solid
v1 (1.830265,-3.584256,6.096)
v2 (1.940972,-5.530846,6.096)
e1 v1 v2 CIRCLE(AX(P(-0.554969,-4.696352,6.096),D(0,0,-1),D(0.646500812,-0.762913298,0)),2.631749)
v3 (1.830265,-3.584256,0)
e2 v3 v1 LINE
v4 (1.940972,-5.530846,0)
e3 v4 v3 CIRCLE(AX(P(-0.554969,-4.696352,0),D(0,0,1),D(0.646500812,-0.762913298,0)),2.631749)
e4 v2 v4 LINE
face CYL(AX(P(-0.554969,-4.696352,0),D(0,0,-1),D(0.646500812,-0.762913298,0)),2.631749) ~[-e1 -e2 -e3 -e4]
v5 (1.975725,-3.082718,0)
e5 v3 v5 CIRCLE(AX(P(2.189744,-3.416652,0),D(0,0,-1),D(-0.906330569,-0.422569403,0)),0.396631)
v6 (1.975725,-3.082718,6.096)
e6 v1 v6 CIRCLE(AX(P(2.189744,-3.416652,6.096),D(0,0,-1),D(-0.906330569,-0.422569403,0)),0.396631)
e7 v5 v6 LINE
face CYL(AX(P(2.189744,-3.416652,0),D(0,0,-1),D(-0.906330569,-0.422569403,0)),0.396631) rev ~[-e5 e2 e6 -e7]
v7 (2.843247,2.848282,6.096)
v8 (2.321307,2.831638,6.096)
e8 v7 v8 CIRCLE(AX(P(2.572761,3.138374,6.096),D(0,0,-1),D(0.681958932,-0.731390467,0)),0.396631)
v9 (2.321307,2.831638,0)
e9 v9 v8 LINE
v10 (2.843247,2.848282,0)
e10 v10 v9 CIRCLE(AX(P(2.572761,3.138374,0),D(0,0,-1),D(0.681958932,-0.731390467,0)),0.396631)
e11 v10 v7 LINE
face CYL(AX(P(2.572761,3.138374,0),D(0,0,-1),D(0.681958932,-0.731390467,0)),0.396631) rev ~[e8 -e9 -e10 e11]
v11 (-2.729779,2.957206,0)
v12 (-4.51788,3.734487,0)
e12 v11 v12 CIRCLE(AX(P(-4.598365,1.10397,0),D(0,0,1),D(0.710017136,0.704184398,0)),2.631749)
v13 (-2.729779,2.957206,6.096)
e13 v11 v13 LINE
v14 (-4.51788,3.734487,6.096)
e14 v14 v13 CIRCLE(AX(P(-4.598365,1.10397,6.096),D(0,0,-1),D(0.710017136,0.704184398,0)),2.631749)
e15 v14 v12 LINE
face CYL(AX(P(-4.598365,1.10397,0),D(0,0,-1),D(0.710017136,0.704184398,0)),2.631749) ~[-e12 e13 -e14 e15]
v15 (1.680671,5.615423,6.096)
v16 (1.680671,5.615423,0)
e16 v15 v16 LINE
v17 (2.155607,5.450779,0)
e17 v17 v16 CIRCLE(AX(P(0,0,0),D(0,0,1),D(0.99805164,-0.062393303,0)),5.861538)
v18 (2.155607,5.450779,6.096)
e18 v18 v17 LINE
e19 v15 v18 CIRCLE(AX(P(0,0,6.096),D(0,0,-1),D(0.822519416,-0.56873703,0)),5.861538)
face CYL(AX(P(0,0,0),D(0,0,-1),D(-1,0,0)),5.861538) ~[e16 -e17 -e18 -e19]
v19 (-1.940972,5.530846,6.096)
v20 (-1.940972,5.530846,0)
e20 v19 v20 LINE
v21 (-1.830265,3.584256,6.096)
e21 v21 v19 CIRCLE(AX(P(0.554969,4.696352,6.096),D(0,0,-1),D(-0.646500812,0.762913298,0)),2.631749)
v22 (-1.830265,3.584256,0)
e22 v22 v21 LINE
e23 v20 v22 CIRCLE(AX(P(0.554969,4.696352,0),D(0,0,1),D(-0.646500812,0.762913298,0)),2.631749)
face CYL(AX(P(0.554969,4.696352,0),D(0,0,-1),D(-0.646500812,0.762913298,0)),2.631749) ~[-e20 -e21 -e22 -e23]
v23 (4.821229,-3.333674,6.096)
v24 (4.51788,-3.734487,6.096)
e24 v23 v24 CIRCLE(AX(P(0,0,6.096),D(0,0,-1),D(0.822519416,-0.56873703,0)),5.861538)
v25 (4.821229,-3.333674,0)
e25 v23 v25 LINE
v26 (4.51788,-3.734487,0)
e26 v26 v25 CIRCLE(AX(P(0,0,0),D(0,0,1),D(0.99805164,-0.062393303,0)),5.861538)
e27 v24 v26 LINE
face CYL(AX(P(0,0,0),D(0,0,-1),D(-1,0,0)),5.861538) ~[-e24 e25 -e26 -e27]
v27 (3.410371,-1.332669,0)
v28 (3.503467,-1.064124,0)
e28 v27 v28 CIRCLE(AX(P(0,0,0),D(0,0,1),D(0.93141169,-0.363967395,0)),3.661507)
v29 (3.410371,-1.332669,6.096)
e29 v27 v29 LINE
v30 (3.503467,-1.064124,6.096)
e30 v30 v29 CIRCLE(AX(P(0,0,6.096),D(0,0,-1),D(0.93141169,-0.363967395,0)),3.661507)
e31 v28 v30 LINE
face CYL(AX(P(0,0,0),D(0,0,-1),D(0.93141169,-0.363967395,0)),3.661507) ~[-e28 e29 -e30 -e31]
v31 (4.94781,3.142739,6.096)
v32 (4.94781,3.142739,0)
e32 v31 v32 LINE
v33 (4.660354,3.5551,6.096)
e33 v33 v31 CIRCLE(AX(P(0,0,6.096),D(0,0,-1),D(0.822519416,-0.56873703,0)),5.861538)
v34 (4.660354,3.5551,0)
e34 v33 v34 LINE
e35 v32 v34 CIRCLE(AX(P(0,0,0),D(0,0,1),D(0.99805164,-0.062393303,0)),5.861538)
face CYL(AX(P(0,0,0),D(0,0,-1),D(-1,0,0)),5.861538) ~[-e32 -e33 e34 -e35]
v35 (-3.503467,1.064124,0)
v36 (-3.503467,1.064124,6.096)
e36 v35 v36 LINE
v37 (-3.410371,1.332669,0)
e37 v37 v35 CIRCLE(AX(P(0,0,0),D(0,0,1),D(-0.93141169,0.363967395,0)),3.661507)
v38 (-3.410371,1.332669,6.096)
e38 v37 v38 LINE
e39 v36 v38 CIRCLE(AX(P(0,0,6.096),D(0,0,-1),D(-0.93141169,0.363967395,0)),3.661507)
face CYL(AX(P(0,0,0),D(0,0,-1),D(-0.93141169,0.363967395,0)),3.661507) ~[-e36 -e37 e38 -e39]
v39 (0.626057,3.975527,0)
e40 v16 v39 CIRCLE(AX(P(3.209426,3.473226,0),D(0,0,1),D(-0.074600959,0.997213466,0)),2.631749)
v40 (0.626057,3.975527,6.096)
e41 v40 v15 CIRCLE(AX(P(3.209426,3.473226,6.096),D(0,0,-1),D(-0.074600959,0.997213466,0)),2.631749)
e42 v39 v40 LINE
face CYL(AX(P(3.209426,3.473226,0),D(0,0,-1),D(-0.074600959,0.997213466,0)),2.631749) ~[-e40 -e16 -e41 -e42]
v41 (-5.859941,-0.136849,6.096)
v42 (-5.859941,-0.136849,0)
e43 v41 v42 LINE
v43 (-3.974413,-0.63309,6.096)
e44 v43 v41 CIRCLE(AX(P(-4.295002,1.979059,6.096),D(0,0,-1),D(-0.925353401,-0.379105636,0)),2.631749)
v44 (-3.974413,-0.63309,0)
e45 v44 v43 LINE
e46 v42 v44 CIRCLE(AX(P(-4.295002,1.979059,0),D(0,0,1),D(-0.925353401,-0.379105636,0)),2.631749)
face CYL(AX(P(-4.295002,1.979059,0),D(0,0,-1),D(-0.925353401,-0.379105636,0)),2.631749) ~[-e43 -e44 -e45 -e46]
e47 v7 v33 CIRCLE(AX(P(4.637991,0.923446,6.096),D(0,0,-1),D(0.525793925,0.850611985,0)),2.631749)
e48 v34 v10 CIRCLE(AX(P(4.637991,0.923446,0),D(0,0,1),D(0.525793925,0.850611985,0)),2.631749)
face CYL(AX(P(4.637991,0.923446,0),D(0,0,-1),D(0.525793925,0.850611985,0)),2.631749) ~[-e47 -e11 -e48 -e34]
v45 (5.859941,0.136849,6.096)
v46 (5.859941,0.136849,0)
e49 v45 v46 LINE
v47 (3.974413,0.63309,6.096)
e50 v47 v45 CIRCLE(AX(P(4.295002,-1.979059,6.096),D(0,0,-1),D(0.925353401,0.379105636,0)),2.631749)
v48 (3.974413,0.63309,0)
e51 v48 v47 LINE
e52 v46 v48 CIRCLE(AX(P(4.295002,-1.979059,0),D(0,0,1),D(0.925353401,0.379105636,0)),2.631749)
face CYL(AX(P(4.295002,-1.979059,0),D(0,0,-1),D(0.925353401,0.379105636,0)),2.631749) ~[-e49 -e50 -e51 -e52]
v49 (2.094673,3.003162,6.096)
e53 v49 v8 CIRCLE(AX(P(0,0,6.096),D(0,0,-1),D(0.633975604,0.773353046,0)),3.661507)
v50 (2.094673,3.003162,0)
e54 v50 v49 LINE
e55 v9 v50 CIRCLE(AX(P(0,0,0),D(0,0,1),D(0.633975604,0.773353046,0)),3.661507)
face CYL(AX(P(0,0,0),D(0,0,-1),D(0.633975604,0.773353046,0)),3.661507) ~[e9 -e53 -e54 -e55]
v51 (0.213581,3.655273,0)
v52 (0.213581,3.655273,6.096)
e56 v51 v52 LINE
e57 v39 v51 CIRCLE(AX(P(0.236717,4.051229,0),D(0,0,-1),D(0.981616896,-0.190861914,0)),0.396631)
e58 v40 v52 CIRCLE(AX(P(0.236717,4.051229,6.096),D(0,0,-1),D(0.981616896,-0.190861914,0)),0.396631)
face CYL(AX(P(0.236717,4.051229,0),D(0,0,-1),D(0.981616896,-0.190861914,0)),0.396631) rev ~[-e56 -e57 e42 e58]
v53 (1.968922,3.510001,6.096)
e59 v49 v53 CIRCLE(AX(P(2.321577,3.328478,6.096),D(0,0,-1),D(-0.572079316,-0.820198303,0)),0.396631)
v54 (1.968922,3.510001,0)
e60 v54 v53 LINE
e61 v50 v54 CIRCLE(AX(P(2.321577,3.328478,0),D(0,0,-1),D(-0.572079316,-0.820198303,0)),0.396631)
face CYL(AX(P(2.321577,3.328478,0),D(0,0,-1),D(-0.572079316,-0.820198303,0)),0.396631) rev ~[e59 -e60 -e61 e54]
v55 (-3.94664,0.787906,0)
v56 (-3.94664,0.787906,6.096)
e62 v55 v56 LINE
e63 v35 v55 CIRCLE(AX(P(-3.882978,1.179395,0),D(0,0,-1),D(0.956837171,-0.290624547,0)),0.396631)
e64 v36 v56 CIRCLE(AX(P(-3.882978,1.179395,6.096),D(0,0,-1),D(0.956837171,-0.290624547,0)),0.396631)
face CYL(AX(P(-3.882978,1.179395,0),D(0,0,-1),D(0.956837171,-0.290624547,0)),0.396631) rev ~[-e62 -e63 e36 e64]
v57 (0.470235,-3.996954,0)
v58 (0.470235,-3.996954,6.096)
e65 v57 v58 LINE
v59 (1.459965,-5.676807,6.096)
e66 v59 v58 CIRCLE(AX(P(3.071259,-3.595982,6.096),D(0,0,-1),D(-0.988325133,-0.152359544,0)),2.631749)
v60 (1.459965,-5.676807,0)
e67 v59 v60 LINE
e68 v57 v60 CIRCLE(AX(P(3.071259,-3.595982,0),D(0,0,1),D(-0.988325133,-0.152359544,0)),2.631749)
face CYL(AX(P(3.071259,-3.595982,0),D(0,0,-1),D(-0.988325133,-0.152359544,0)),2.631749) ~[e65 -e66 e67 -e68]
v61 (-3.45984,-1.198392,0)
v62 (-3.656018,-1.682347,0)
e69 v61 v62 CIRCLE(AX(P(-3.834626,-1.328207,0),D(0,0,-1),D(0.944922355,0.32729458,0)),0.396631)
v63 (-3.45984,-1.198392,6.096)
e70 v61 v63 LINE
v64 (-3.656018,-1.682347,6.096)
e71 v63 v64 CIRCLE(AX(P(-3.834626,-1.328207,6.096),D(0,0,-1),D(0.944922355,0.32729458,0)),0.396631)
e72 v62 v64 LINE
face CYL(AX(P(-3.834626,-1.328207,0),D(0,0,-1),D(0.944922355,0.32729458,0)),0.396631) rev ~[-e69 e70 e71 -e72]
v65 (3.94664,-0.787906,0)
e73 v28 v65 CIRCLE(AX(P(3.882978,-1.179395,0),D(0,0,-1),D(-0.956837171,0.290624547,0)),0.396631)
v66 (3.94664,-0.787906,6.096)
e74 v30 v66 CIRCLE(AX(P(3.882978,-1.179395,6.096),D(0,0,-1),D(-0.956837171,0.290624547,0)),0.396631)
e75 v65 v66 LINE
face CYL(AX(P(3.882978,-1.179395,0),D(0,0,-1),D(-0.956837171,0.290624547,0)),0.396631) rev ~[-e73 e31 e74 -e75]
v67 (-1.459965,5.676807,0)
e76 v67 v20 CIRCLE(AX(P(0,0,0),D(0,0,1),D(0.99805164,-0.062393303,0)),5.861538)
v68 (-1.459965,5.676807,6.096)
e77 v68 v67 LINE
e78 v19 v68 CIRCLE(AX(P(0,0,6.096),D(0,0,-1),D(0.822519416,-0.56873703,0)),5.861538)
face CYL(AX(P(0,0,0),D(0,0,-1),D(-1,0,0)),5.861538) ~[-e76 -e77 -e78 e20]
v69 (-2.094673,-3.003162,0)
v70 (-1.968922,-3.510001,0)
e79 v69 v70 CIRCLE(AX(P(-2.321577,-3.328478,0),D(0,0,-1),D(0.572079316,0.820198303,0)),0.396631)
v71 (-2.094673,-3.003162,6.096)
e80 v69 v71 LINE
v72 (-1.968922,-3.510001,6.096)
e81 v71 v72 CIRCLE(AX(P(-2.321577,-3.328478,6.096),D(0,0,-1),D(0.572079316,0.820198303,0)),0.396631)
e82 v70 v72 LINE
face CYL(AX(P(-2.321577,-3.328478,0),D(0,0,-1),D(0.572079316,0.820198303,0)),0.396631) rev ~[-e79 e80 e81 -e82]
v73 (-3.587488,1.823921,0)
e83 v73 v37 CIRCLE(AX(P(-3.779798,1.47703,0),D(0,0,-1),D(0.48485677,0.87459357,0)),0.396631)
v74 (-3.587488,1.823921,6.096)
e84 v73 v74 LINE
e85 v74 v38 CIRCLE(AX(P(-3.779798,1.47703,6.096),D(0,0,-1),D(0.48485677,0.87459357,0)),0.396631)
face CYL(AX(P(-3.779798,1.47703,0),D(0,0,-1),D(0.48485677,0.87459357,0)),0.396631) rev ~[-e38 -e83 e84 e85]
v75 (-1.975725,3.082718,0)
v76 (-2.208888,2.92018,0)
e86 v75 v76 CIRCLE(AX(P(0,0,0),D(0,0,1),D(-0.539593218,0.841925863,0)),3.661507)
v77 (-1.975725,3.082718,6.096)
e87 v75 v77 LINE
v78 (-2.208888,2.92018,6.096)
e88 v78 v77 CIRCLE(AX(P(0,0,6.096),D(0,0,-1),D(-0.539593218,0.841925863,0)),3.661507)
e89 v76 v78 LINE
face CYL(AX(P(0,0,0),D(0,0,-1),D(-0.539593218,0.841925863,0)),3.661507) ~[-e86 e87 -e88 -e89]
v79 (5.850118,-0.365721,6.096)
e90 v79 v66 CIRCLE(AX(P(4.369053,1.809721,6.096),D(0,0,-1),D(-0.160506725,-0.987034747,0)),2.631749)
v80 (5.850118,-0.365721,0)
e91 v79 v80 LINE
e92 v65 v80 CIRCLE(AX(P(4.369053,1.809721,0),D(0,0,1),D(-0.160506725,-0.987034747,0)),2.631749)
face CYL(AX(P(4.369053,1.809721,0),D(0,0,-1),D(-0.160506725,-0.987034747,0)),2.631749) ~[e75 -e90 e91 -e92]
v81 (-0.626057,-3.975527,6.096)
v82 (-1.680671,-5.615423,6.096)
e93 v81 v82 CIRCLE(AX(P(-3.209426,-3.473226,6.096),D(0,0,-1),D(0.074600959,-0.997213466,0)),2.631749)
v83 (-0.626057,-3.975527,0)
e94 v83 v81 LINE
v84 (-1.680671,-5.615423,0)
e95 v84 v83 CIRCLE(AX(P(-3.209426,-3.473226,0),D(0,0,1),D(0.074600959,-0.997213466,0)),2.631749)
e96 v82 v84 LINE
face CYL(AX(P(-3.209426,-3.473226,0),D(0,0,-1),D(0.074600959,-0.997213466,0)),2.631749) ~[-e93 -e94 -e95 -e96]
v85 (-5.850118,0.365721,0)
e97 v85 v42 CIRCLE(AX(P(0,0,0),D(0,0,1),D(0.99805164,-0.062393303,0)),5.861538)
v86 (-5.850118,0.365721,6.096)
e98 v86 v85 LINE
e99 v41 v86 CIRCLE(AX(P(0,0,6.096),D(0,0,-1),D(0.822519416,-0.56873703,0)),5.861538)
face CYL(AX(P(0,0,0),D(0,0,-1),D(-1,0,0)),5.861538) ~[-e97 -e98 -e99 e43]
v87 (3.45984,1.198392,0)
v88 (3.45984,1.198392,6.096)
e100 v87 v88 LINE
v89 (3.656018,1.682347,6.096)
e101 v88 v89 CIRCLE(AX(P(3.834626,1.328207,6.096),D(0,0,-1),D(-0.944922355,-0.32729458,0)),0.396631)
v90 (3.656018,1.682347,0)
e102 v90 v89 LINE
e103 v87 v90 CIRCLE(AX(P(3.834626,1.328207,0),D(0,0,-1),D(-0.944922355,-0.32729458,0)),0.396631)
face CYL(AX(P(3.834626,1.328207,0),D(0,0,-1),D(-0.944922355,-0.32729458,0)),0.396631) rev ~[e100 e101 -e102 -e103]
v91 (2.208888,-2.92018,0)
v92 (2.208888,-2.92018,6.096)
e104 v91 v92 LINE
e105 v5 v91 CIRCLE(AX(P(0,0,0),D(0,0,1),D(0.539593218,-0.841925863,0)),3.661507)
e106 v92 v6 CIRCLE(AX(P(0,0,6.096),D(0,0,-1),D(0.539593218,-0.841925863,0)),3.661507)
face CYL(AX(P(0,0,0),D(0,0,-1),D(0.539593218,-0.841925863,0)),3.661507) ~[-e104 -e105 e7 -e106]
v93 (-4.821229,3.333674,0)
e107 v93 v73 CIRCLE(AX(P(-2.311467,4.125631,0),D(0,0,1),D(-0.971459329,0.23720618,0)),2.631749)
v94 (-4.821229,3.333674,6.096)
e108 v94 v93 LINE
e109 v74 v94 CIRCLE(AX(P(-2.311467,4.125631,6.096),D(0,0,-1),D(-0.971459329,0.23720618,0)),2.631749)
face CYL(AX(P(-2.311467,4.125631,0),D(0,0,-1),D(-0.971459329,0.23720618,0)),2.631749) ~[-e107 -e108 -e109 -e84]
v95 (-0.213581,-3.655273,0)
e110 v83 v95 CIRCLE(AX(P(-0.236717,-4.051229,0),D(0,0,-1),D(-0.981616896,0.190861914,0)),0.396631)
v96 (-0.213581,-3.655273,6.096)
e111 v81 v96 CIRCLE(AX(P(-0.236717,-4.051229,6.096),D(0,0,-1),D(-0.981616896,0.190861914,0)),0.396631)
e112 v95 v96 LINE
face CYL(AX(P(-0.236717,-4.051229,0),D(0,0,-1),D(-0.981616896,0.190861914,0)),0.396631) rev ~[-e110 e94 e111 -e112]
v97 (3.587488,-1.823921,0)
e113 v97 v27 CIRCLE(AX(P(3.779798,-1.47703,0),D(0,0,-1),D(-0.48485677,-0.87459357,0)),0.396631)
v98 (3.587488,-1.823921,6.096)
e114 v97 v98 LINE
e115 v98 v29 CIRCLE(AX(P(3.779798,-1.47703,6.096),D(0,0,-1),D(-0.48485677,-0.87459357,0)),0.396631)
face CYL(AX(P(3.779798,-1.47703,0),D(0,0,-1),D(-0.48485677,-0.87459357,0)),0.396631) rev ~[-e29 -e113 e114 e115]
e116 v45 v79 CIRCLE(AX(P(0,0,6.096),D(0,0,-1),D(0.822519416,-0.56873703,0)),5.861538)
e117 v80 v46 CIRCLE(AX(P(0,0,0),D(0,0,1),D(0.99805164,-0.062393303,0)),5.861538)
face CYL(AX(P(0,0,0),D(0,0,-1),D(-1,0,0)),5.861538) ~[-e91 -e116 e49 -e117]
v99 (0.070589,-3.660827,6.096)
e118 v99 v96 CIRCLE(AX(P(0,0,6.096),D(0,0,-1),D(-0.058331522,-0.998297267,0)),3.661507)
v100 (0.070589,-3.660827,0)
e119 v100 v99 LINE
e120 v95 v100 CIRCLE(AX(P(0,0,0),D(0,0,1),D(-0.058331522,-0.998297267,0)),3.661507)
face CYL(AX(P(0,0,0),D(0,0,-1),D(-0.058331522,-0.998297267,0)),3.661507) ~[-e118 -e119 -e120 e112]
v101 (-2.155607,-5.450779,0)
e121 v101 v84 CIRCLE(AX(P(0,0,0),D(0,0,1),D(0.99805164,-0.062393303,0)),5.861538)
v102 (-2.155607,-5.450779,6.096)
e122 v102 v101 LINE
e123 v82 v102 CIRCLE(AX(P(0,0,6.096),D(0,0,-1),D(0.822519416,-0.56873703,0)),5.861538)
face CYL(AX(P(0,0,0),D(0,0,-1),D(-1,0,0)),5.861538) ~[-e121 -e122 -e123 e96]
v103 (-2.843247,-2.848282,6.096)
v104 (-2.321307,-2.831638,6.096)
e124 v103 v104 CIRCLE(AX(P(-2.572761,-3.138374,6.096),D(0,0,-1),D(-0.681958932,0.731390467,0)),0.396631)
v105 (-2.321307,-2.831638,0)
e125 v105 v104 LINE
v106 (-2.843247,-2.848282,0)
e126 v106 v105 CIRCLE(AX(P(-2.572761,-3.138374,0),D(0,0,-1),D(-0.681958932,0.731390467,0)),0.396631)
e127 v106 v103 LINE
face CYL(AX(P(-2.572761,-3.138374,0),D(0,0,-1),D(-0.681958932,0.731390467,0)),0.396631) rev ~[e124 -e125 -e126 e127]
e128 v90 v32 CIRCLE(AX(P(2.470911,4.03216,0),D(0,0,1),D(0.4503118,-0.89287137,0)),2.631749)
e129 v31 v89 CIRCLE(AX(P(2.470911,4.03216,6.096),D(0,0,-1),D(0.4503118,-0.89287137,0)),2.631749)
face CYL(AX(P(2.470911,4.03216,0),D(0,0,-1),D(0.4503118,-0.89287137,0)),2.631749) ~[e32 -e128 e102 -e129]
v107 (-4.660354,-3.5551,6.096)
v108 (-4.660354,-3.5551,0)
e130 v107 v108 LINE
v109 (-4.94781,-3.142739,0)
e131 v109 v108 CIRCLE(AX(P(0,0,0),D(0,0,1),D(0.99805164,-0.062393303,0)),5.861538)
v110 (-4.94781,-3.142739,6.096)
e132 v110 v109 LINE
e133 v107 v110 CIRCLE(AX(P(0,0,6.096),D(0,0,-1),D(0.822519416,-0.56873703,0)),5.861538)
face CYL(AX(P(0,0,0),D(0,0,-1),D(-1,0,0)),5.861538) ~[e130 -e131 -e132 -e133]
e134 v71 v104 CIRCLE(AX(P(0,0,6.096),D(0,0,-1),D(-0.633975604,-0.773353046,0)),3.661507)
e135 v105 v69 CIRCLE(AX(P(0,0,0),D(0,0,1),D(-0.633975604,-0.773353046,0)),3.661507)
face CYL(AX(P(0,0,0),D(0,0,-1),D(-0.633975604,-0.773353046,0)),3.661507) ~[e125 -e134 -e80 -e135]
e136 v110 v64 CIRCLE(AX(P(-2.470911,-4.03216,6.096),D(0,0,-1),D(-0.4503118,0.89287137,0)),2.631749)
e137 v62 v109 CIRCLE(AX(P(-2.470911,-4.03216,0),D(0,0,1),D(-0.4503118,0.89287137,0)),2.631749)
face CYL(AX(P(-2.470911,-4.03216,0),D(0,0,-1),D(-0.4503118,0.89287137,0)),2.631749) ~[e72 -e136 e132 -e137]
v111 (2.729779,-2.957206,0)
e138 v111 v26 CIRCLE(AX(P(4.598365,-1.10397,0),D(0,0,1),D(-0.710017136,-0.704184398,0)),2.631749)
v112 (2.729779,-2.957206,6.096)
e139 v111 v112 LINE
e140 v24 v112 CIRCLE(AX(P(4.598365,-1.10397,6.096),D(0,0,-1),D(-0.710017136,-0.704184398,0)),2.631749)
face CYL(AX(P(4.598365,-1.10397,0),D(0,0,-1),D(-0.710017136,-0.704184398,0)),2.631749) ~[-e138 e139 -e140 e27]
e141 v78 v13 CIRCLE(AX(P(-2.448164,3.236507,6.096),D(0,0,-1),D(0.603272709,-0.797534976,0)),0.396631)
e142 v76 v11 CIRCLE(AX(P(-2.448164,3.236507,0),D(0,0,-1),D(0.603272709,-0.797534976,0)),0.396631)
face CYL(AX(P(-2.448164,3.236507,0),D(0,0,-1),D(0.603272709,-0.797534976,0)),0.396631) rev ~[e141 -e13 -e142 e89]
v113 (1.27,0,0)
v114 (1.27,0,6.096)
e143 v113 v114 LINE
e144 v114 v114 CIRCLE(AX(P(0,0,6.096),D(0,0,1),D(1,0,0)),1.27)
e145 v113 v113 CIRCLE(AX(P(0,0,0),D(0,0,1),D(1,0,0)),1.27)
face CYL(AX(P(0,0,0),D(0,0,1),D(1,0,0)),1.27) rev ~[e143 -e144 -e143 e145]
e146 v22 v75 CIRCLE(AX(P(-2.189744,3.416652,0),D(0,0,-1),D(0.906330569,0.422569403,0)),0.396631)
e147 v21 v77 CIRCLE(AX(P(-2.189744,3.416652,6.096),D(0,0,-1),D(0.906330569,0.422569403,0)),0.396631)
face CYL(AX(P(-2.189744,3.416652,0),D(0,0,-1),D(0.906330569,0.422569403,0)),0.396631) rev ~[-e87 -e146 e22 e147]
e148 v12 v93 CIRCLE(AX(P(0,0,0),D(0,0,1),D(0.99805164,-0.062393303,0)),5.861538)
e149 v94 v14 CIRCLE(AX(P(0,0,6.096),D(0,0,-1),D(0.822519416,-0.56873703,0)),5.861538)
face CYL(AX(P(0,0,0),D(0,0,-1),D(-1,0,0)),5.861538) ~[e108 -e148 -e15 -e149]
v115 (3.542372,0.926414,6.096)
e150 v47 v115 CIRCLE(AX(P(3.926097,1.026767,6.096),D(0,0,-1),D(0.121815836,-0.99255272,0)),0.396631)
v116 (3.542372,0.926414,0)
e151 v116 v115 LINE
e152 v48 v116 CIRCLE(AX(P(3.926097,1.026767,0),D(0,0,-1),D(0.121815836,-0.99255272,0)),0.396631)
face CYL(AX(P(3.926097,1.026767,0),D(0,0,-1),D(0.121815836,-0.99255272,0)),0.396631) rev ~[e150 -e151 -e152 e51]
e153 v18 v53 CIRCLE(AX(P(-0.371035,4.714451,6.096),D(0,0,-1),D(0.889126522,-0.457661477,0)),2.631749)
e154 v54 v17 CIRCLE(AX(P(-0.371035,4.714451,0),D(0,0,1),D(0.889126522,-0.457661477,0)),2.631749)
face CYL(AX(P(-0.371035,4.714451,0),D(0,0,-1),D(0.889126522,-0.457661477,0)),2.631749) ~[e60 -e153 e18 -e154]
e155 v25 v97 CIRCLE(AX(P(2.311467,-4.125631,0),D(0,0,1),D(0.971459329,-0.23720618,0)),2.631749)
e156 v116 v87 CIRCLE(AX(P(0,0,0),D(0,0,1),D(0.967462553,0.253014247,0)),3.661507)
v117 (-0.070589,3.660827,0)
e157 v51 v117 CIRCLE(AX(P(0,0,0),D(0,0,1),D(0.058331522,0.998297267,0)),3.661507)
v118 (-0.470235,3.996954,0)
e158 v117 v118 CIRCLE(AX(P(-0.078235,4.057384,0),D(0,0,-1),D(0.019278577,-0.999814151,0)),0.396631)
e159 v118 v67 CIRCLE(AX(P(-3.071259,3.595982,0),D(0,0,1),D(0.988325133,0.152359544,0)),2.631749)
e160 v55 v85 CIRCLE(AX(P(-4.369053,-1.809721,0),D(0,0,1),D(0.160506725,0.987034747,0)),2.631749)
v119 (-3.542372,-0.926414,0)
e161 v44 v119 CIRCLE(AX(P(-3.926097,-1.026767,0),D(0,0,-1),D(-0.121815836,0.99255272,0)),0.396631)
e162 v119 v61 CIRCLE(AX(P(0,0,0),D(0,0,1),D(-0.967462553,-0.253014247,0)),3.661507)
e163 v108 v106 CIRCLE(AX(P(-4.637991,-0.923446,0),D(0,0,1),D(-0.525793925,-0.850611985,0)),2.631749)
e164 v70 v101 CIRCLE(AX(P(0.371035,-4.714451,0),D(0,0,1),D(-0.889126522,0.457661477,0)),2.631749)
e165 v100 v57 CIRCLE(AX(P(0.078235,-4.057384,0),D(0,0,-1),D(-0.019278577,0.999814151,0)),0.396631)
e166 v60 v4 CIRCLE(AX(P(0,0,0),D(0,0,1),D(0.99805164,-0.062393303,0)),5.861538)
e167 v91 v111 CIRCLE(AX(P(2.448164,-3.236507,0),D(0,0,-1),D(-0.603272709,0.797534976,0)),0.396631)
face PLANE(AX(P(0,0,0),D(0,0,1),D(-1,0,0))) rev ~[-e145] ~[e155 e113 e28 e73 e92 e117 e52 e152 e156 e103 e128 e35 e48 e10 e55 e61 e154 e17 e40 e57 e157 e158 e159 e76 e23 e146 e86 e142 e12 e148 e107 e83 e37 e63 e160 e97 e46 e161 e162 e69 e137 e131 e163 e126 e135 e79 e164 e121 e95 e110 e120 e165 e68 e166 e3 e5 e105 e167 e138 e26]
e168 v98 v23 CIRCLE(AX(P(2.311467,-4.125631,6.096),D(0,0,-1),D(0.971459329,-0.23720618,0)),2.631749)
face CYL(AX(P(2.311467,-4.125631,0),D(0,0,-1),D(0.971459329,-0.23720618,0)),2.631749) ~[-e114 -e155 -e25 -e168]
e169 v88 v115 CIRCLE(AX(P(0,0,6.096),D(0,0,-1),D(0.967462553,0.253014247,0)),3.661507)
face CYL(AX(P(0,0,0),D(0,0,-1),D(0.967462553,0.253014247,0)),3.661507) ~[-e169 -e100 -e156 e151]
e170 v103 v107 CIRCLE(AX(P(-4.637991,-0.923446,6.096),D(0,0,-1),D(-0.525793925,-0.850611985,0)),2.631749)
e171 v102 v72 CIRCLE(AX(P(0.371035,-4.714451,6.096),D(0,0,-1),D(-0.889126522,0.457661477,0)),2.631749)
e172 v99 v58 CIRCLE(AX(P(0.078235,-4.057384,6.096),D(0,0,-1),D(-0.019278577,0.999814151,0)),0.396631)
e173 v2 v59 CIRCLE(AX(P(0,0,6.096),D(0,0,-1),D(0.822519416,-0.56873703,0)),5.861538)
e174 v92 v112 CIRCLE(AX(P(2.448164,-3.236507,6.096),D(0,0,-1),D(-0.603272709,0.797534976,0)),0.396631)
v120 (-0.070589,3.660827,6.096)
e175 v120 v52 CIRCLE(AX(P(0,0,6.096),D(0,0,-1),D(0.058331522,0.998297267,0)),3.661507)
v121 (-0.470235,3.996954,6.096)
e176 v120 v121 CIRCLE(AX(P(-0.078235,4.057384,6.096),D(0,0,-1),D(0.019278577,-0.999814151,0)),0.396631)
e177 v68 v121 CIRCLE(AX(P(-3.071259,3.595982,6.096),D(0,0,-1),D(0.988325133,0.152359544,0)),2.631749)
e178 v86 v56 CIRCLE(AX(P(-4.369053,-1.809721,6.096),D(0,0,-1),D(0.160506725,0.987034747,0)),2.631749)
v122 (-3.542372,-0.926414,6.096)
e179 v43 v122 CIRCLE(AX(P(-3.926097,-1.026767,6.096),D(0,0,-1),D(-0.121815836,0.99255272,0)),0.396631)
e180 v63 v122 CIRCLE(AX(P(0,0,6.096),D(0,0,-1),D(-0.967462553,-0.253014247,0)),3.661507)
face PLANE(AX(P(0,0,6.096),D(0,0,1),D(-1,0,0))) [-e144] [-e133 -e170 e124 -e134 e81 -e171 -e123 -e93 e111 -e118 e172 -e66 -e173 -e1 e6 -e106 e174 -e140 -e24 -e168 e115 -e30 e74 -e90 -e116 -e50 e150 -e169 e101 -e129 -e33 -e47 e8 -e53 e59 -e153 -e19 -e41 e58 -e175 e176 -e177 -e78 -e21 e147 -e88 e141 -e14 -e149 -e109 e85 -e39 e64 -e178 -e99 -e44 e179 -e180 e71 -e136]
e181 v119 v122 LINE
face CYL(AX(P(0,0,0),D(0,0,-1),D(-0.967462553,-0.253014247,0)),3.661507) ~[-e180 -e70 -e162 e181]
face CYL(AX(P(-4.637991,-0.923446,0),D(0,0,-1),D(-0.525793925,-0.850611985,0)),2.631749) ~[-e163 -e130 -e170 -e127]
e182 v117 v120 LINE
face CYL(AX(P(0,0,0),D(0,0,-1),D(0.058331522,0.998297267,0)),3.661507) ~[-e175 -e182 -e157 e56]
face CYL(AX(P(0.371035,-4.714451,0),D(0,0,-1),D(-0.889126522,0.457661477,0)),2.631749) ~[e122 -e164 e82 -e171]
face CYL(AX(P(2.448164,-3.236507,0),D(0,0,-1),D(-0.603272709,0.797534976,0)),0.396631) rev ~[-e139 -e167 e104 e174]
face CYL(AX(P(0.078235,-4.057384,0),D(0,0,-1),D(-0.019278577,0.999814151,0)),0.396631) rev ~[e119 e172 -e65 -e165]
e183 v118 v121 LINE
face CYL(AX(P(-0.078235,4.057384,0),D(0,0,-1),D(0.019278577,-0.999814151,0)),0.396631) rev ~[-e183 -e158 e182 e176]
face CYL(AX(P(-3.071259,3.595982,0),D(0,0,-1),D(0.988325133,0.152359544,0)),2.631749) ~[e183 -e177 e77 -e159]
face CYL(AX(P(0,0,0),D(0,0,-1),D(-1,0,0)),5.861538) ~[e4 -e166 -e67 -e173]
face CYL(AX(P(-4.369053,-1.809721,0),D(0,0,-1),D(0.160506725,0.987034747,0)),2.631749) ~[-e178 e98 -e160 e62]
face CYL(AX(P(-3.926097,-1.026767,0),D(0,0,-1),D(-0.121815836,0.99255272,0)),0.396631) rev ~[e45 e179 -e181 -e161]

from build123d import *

# Parameters (mm, degrees)
SKETCH3_R         = 5.861538462
GEARBODY_DEPTH    = 6.096
TOOTHCUT_DEPTH    = 11.289629841
CIRPATTERN1_COUNT = 10
BOREDIA_R         = 1.27
BORE_DEPTH        = 12700


with BuildPart() as part:
    # Sketch3 → gearBody (new body)
    with BuildSketch(Plane.XY):
        Circle(SKETCH3_R)
    extrude(amount=GEARBODY_DEPTH)

    # Sketch2 → toothCut (cut, through all)
    with BuildSketch(Plane.XY):
        with BuildLine():
            ThreePointArc((3.410371072, -1.3326694), (3.459525577, -1.199300364), (3.503466664, -1.064124012))
            ThreePointArc((3.503466664, -1.064124012), (3.673182044, -0.842791414), (3.946639633, -0.787906299))
            ThreePointArc((3.946639633, -0.787906299), (5.609569592, -0.511317374), (6.763505117, 0.717613171))
            ThreePointArc((6.763505117, 0.717613171), (6.426274445, -2.22777173), (4.868104082, -4.749898186))
            ThreePointArc((4.868104082, -4.749898186), (4.722411681, -3.07043065), (3.587488494, -1.823920787))
            ThreePointArc((3.587488494, -1.823920787), (3.406677364, -1.61155609), (3.410371072, -1.3326694))
        make_face()
    toothcut = extrude(amount=TOOTHCUT_DEPTH, mode=Mode.SUBTRACT)

    # CirPattern1: toothCut ×10 about axis
    cirpattern1_axis = Axis((0, 0, 6.096), (0, 0, -1))
    for i in range(1, CIRPATTERN1_COUNT):
        add(toothcut.rotate(cirpattern1_axis, i * 360 / CIRPATTERN1_COUNT), mode=Mode.SUBTRACT)

    # boreDia → bore (cut, symmetric)
    with BuildSketch(Plane.XY):
        Circle(BOREDIA_R)
    extrude(amount=BORE_DEPTH, both=True, mode=Mode.SUBTRACT)


solid = part.part
